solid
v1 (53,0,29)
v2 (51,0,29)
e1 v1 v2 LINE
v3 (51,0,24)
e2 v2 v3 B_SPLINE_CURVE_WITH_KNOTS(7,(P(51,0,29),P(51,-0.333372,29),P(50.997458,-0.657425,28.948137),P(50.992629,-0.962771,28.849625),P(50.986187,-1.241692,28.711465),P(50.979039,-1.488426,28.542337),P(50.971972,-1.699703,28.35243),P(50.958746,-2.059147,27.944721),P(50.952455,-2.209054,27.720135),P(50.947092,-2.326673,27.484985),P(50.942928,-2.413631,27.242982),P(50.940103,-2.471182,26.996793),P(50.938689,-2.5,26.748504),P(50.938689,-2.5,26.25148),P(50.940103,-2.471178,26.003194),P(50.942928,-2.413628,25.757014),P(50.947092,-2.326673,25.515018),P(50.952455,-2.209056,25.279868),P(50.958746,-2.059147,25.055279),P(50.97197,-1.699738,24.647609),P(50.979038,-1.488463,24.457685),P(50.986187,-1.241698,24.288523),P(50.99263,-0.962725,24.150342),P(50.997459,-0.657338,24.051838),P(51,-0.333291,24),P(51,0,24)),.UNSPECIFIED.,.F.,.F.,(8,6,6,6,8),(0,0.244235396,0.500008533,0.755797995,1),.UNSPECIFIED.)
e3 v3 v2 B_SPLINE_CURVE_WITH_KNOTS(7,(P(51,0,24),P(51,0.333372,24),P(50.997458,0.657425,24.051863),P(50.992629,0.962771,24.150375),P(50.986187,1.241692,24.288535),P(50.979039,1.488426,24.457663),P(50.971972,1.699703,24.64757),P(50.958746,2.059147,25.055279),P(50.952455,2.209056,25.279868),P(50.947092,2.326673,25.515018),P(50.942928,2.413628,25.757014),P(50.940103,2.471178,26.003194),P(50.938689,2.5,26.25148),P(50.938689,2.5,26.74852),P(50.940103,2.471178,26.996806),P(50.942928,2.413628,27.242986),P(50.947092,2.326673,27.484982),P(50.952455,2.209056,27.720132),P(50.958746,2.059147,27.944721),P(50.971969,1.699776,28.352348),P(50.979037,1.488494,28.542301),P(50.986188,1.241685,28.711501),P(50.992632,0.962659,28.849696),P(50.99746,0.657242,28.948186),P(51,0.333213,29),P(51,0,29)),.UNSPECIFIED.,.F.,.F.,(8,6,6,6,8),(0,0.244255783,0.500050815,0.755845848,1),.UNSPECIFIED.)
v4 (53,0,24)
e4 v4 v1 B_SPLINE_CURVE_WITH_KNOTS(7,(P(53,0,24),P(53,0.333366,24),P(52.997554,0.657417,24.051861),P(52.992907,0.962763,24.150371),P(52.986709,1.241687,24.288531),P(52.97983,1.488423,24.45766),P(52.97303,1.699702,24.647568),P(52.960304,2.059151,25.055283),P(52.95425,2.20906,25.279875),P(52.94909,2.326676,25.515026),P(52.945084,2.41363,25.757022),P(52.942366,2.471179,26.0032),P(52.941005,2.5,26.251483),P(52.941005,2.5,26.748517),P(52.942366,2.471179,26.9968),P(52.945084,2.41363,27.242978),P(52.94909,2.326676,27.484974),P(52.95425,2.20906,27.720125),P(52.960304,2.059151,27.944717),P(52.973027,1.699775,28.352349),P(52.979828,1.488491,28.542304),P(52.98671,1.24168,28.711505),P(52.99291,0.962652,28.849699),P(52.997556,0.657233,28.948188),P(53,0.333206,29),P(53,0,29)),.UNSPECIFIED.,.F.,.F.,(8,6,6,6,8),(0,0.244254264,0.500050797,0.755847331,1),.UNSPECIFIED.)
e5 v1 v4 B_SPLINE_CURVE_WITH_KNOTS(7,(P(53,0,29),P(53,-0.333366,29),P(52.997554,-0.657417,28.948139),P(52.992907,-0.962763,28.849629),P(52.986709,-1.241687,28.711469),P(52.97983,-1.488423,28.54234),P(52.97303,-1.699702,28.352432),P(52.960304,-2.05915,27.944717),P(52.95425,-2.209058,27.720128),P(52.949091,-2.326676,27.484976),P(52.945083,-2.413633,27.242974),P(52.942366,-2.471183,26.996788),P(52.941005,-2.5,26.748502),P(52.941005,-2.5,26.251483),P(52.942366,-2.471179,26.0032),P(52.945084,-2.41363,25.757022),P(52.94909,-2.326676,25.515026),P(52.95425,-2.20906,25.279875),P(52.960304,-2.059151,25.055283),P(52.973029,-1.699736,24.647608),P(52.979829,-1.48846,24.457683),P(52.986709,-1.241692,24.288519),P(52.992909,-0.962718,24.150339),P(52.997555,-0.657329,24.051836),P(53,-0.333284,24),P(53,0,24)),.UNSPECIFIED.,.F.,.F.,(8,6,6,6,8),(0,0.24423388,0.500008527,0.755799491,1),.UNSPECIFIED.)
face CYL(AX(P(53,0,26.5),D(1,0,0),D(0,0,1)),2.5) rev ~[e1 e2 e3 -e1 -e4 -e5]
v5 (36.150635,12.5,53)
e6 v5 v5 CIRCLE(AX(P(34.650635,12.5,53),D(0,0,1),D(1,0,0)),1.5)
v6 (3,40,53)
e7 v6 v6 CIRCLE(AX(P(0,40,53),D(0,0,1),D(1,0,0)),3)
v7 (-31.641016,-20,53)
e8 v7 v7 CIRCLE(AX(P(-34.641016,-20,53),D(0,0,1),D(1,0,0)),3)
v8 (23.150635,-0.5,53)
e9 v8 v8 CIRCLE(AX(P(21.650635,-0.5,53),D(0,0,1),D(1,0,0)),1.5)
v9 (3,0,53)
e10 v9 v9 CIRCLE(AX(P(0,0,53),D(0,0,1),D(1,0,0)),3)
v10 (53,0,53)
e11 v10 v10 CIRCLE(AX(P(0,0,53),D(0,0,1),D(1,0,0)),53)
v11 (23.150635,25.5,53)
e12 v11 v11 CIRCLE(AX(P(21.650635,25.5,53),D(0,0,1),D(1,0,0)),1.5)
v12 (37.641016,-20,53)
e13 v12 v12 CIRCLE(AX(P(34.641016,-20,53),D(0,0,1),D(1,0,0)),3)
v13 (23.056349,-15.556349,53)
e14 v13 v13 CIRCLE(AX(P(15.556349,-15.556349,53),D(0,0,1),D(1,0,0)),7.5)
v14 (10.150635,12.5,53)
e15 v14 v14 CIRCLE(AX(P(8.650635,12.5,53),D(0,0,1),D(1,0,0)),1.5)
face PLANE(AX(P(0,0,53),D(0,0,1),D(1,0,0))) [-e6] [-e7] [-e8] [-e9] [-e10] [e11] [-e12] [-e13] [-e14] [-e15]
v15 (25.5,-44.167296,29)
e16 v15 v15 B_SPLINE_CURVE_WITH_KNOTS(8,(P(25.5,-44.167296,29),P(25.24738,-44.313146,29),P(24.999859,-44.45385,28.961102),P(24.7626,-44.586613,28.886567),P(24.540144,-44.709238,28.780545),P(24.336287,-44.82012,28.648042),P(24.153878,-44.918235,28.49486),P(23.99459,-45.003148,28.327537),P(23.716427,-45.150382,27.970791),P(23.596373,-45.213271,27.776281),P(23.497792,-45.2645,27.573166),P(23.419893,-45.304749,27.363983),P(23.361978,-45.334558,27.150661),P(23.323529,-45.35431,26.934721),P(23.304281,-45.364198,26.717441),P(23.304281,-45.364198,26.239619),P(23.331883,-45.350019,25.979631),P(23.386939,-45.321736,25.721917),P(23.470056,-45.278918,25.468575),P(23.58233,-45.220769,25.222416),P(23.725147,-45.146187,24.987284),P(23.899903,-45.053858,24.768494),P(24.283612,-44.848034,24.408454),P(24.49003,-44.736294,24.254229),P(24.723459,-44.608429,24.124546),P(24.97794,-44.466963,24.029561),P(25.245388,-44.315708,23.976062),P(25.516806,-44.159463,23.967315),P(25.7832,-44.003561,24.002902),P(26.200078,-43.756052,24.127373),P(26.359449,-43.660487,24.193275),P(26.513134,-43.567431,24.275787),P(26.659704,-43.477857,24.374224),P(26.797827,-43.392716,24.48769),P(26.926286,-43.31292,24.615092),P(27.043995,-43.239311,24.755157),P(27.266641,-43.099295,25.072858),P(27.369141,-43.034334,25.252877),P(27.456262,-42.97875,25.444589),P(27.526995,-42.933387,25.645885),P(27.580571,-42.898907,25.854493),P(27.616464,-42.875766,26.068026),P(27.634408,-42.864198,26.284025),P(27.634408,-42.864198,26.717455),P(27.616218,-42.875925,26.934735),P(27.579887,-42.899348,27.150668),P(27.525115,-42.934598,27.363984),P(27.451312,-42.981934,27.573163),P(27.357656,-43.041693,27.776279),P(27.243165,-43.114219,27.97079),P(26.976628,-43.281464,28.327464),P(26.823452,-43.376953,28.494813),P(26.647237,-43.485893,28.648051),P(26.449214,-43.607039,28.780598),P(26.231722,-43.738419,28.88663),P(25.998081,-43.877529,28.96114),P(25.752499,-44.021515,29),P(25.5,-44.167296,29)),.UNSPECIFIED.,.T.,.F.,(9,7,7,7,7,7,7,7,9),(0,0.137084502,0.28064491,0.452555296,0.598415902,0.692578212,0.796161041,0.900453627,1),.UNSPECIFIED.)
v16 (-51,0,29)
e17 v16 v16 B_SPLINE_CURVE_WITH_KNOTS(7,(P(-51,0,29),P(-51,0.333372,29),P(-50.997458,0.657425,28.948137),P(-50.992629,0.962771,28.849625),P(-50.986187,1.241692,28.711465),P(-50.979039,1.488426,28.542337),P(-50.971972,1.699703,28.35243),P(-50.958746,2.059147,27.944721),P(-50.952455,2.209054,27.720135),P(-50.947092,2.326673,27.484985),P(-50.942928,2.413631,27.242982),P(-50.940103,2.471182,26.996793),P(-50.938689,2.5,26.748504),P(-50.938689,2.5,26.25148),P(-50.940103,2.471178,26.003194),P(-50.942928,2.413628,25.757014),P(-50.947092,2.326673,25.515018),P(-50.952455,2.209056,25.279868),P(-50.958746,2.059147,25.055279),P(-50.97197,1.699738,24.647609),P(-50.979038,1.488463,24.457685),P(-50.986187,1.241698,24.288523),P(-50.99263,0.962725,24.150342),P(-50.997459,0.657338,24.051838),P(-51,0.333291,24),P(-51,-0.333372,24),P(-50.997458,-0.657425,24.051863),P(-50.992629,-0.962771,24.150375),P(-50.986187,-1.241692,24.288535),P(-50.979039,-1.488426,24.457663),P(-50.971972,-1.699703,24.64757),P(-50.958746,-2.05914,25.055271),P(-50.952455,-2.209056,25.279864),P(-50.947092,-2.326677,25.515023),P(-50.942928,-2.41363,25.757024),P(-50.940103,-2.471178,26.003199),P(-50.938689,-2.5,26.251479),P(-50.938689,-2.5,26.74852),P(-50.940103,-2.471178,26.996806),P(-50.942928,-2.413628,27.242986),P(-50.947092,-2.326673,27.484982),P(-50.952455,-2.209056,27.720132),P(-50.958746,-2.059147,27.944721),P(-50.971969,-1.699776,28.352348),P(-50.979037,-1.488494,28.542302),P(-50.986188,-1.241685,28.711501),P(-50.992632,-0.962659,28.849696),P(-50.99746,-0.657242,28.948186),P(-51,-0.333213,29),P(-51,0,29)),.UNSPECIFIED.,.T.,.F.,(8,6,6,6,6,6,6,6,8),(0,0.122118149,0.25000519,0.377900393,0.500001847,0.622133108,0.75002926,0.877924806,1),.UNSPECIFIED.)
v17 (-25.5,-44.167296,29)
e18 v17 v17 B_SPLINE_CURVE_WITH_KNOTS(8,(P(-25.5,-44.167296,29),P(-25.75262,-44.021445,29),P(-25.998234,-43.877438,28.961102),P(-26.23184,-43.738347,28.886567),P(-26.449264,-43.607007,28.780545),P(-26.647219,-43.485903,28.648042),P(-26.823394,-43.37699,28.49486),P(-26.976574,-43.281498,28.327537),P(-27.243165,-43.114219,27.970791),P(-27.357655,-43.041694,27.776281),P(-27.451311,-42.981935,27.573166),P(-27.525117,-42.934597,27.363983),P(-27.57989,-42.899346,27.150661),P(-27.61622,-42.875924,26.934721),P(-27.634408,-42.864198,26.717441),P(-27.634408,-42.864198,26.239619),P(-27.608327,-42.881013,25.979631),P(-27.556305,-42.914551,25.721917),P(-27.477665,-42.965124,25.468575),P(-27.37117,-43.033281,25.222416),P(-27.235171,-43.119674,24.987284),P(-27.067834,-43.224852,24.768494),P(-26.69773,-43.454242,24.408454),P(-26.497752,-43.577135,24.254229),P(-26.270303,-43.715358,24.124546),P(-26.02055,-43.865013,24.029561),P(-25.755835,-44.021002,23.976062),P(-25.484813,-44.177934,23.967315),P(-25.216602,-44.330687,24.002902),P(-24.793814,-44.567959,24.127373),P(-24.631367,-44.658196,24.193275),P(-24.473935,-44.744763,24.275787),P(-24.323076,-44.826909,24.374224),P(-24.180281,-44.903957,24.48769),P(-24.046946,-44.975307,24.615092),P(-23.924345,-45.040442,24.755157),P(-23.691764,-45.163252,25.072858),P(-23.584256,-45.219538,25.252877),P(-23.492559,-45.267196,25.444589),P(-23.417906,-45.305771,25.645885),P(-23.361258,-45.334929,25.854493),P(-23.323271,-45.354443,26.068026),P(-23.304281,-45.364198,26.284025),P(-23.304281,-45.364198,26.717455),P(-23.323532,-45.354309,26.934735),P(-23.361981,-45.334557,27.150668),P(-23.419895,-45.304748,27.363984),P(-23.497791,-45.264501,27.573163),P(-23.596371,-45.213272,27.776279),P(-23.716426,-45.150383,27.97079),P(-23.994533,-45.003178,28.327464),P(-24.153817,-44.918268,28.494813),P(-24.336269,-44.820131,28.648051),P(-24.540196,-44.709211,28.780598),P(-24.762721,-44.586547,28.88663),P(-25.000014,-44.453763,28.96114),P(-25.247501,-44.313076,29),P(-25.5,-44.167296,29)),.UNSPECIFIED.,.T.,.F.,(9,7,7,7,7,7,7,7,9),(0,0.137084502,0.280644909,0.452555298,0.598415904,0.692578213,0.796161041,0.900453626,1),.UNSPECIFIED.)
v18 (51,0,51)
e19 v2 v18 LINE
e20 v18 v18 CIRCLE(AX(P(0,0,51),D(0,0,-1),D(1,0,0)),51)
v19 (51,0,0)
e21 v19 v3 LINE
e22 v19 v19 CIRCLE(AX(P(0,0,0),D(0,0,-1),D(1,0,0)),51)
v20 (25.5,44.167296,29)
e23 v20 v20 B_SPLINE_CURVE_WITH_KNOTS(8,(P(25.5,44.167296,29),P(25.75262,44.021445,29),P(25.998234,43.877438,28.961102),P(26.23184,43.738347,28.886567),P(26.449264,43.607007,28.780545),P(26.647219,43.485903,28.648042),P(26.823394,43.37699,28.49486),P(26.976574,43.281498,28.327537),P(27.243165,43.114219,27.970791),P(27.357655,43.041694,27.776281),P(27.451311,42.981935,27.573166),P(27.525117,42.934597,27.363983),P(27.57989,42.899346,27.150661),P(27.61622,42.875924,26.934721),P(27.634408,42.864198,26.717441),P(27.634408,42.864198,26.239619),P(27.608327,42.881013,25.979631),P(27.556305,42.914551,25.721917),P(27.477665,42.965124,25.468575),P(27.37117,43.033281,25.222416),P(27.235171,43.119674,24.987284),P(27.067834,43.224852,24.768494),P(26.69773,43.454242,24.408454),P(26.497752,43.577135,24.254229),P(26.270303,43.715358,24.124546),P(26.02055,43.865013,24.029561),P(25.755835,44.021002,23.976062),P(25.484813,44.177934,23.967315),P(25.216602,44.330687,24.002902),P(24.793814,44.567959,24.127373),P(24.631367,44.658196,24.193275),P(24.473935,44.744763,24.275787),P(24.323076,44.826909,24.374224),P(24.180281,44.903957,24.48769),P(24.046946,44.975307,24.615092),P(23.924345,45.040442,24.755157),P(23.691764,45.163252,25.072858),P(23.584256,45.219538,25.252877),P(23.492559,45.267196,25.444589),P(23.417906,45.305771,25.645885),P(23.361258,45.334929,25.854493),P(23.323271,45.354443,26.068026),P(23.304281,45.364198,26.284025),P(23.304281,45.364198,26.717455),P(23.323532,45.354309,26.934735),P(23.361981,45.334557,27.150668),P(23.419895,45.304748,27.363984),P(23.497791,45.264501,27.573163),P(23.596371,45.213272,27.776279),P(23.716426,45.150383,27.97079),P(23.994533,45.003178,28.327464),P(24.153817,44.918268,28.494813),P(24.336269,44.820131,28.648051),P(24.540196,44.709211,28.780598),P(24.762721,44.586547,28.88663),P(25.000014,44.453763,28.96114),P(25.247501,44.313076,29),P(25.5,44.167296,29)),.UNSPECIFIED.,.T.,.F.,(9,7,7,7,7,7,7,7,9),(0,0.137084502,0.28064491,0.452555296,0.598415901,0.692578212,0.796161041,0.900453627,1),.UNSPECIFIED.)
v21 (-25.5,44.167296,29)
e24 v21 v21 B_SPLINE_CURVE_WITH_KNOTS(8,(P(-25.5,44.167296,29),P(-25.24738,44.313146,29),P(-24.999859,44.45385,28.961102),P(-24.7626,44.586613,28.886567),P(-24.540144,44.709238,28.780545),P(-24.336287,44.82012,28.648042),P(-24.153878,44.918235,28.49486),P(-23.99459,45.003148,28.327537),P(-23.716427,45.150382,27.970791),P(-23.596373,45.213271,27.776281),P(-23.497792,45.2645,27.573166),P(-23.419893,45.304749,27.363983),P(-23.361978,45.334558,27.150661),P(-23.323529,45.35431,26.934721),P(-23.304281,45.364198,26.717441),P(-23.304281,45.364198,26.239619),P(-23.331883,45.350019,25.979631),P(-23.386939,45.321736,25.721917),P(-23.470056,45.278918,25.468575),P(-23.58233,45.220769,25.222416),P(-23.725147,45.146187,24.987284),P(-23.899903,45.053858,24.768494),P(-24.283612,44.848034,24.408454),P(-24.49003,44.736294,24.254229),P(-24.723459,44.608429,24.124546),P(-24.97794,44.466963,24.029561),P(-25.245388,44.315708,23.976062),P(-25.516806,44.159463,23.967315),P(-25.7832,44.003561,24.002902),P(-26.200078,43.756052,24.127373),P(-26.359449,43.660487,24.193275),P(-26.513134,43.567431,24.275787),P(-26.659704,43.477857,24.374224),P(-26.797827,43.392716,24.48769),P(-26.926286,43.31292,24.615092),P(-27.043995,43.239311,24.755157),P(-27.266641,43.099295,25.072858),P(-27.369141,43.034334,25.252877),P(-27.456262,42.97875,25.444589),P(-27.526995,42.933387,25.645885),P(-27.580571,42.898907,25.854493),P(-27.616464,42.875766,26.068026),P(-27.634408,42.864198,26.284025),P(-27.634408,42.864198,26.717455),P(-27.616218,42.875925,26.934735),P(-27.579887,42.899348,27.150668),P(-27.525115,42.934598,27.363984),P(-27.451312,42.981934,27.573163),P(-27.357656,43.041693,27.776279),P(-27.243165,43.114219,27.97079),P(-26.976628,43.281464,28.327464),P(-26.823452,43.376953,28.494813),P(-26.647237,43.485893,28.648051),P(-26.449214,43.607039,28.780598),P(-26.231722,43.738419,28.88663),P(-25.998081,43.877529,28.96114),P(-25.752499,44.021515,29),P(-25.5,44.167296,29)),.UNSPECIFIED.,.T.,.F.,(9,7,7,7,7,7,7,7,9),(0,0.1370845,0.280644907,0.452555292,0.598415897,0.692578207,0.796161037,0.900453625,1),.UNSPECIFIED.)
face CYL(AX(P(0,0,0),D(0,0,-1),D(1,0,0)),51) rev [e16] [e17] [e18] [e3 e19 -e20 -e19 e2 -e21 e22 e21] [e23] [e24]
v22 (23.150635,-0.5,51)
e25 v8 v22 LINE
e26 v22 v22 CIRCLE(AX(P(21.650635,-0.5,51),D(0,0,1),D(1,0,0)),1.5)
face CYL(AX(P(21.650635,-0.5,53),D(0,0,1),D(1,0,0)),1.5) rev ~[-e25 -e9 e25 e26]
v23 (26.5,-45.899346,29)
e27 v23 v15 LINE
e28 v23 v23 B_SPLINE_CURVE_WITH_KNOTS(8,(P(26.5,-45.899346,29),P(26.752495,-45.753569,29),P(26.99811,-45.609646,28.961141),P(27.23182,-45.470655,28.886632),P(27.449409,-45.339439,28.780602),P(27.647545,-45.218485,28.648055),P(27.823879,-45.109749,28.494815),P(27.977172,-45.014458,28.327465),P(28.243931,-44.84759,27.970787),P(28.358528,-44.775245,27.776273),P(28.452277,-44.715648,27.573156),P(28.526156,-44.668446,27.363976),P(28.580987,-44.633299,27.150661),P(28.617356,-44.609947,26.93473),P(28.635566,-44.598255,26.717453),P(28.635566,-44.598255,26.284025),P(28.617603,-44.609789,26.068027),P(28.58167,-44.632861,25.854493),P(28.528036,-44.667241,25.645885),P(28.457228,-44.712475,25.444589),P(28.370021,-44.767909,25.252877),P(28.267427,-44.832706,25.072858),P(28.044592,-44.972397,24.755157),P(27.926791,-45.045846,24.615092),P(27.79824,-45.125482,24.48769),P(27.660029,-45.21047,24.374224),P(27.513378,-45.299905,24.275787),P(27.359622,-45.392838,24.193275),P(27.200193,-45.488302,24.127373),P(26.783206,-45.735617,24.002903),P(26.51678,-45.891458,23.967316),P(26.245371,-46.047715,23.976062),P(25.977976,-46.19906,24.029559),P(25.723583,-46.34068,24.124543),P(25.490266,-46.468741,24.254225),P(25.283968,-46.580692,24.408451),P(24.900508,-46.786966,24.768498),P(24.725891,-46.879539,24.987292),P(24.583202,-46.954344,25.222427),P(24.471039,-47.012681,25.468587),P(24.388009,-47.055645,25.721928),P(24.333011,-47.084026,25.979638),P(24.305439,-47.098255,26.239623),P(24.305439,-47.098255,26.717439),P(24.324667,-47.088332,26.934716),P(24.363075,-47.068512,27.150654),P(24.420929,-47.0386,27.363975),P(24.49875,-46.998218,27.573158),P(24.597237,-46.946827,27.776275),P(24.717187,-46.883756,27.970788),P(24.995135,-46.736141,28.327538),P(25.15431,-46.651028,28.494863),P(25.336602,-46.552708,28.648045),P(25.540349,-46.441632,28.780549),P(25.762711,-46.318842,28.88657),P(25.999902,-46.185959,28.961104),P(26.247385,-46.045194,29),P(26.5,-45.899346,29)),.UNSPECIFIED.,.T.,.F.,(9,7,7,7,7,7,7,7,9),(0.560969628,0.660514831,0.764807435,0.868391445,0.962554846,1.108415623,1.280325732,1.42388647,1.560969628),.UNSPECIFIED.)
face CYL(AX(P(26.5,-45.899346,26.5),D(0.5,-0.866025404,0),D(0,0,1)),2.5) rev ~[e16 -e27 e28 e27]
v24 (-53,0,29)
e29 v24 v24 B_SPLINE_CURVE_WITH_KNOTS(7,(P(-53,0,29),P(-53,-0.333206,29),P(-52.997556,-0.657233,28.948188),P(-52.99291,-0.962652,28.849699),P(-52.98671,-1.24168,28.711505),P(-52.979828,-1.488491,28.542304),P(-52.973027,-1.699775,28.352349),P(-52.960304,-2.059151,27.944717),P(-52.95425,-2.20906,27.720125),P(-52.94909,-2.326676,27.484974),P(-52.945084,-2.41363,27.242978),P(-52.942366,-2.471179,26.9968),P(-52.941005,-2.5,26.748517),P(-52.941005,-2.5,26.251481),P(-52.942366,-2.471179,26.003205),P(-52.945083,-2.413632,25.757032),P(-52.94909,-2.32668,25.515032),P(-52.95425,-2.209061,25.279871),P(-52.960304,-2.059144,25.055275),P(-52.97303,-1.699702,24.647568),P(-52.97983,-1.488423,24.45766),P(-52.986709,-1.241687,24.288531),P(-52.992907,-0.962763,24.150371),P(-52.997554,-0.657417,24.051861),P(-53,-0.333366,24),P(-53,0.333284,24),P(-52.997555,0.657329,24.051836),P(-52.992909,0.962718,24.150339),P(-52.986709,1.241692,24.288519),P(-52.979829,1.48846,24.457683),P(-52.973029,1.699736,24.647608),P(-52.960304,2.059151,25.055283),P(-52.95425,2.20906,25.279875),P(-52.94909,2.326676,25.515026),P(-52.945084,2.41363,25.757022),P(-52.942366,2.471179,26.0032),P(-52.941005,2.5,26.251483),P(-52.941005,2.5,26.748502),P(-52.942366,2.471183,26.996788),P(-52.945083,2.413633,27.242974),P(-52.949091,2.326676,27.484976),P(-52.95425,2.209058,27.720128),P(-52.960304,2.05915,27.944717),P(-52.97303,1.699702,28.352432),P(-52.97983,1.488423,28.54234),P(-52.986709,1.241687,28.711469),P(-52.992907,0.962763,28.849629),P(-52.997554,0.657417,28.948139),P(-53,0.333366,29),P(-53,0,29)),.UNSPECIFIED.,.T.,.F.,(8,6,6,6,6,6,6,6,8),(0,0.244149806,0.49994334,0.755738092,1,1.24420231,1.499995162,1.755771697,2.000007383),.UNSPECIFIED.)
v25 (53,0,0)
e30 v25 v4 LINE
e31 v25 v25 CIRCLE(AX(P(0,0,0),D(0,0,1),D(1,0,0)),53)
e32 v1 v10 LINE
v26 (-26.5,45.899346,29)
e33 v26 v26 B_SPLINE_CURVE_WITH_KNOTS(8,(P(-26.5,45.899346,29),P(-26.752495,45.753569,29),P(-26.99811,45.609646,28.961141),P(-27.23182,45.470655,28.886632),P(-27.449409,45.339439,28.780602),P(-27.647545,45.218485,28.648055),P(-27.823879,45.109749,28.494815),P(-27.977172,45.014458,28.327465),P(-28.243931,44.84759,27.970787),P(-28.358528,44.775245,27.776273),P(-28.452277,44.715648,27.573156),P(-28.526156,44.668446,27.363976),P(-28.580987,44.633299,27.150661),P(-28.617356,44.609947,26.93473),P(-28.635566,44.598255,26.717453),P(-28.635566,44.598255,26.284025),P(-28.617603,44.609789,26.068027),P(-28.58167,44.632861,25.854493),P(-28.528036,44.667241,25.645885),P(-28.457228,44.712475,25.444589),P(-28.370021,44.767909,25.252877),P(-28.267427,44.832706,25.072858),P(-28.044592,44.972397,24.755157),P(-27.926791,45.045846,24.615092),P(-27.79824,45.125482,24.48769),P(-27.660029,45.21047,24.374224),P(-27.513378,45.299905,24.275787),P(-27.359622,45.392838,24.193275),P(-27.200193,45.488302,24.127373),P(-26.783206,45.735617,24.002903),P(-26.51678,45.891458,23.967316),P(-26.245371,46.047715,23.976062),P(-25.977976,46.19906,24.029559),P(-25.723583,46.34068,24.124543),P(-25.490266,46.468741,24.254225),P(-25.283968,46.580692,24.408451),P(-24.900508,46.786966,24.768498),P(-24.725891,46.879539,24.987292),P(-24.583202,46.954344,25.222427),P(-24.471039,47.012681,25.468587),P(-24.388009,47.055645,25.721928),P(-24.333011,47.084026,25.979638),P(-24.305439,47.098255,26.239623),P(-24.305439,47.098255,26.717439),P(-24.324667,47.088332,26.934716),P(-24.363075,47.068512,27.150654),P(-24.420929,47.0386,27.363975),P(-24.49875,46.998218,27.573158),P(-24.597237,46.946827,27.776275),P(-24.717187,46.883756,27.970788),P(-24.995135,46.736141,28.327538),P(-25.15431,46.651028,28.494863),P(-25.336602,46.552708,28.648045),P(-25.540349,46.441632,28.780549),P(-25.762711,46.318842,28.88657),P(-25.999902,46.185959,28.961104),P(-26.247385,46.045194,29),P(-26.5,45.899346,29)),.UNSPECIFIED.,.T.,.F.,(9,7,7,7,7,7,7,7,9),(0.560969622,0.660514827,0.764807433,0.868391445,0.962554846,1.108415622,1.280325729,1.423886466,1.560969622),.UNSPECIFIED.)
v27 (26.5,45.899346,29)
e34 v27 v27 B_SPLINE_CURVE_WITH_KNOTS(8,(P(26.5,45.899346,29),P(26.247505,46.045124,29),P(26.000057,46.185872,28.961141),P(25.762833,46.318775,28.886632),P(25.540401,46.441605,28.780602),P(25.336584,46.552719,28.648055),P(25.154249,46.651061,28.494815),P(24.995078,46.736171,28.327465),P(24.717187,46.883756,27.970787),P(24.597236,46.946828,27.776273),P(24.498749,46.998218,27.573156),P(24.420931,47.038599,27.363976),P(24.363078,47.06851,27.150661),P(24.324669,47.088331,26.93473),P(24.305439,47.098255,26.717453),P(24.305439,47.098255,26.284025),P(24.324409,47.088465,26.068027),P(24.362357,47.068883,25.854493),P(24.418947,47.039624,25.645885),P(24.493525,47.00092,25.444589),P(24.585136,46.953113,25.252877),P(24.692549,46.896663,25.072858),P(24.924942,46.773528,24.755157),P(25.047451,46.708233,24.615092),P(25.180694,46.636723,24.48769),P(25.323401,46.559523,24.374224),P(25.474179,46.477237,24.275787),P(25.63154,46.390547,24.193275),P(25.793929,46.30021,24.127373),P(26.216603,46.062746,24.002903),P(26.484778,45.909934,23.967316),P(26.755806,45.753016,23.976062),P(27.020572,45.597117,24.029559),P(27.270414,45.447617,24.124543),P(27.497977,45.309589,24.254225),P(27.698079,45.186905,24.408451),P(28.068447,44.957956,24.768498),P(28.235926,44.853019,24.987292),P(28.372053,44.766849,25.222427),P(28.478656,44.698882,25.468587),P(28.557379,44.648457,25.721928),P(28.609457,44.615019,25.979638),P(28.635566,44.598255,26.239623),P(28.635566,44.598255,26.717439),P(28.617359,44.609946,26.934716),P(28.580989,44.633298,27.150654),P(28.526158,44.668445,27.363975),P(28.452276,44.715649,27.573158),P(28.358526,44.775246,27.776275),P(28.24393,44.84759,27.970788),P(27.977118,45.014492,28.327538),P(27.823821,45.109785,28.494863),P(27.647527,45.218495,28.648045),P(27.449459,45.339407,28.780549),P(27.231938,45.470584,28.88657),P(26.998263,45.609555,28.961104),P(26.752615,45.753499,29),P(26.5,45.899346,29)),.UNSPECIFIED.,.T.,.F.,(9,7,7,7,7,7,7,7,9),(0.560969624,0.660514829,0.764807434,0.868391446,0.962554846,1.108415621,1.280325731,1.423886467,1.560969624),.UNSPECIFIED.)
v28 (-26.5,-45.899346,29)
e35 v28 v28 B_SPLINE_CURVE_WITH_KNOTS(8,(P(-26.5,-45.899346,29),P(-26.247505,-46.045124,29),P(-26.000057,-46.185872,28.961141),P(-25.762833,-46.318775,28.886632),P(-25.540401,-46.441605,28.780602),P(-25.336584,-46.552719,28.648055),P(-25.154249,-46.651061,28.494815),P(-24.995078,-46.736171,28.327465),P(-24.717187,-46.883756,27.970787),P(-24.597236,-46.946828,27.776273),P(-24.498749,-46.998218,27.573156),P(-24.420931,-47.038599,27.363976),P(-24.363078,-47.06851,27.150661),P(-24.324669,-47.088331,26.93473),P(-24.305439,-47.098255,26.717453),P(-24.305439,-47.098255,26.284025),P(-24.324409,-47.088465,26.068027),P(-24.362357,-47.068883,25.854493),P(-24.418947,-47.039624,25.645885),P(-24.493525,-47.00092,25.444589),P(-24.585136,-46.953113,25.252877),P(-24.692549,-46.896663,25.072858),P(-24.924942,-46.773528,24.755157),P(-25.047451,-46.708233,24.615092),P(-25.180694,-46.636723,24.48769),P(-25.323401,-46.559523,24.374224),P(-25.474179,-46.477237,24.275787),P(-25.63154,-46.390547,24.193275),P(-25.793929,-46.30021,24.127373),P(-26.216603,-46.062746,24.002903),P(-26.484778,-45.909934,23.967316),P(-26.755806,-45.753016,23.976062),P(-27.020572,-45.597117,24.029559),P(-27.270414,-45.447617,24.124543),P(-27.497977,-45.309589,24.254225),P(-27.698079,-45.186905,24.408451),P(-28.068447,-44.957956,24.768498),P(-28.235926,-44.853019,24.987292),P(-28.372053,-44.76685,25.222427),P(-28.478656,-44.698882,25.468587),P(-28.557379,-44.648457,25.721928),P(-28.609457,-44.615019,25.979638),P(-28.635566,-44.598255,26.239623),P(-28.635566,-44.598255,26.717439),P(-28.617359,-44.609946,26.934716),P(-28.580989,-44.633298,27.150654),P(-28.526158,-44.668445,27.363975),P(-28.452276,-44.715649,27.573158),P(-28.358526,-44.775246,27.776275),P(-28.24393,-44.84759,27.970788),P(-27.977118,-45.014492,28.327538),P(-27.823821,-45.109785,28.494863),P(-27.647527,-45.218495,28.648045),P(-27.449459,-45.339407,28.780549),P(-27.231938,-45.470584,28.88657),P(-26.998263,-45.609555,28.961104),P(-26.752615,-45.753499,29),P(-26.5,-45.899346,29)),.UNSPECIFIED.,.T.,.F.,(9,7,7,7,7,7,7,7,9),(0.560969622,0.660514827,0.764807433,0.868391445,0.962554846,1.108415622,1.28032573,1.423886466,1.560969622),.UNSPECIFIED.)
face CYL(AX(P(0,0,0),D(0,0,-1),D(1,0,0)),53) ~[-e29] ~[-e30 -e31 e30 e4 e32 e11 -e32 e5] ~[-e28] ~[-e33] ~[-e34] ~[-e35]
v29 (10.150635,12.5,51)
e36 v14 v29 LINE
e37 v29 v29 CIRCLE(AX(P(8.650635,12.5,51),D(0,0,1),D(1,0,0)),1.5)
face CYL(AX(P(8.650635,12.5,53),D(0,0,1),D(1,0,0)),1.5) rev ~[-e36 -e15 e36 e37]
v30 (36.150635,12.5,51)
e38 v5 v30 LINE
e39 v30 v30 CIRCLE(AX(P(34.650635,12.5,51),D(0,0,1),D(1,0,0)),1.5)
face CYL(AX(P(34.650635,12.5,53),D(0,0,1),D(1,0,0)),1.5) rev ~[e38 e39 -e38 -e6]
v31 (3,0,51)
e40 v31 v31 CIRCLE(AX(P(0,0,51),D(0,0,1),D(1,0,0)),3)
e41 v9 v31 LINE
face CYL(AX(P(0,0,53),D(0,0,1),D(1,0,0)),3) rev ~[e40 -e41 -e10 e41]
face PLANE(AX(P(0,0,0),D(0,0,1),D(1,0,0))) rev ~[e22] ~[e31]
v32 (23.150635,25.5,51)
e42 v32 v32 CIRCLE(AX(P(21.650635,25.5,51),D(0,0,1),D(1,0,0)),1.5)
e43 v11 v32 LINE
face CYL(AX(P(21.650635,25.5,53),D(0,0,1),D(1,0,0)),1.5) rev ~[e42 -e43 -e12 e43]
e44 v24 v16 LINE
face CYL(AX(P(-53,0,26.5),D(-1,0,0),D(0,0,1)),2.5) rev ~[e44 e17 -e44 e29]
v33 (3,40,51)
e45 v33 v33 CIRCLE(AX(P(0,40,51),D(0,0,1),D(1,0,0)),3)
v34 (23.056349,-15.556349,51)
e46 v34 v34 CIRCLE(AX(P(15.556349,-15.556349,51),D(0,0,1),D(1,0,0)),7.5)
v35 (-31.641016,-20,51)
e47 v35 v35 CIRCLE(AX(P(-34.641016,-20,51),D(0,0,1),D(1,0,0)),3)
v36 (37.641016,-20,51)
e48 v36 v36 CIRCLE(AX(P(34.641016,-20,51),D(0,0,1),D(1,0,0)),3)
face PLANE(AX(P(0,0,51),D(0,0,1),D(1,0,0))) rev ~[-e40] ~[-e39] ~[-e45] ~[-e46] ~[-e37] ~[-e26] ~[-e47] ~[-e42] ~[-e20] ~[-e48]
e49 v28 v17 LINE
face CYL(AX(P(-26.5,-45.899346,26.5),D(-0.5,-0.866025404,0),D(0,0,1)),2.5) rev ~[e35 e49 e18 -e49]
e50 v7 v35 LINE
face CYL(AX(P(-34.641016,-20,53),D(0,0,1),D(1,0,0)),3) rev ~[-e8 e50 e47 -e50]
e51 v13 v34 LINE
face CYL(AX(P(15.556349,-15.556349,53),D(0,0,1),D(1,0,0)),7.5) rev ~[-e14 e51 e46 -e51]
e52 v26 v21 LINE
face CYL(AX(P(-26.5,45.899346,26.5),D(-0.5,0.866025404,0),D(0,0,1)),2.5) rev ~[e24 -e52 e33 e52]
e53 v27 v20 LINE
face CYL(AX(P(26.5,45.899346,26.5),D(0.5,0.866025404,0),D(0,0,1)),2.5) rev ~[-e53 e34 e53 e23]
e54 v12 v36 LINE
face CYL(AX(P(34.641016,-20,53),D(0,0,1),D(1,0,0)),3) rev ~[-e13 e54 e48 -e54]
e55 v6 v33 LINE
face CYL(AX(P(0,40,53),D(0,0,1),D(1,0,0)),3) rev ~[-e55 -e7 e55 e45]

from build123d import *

# Parameters (mm, degrees)
SKETCH1_R           = 53
BOSS_EXTRUDE1_DEPTH = 53
SKETCH2_R           = 3
CUT_EXTRUDE1_DEPTH  = 92.798692801
SHELL4_T            = -2
SKETCH6_R           = 1.5
CUT_EXTRUDE3_DEPTH  = 10
SKETCH7_R           = 7.5
CUT_EXTRUDE4_DEPTH  = 10
SKETCH8_R           = 51
CUT_EXTRUDE5_DEPTH  = 51
SKETCH9_R           = 2.5
CUT_EXTRUDE6_DEPTH  = 51
CIRPATTERN1_COUNT   = 6


with BuildPart() as part:
    # Sketch1 → Boss-Extrude1 (new body)
    with BuildSketch(Plane.XY):
        Circle(SKETCH1_R)
    extrude(amount=BOSS_EXTRUDE1_DEPTH)

    # Sketch2 → Cut-Extrude1 (cut, through all)
    with BuildSketch(Plane.XY.offset(53)):
        with Locations((0, 40)):
            Circle(SKETCH2_R)
        with Locations((34.641016151, -20)):
            Circle(SKETCH2_R)
        with Locations((-34.641016151, -20)):
            Circle(SKETCH2_R)
        Circle(SKETCH2_R)
    extrude(amount=-CUT_EXTRUDE1_DEPTH, mode=Mode.SUBTRACT)

    # Shell4
    shell4_openings = [part.faces().sort_by_distance(p)[0] for p in [
        (-51.500933624, 0, 0),
    ]]
    offset(amount=SHELL4_T, openings=shell4_openings, kind=Kind.INTERSECTION)

    # Sketch6 → Cut-Extrude3 (cut)
    with BuildSketch(Plane.XY.offset(53)):
        with Locations((21.650635095, 25.5)):
            Circle(SKETCH6_R)
        with Locations((34.650635095, 12.5)):
            Circle(SKETCH6_R)
        with Locations((21.650635095, -0.5)):
            Circle(SKETCH6_R)
        with Locations((8.650635095, 12.5)):
            Circle(SKETCH6_R)
    extrude(amount=-CUT_EXTRUDE3_DEPTH, mode=Mode.SUBTRACT)

    # Sketch7 → Cut-Extrude4 (cut)
    with BuildSketch(Plane.XY.offset(53)):
        with Locations((15.556349186, -15.556349186)):
            Circle(SKETCH7_R)
    extrude(amount=-CUT_EXTRUDE4_DEPTH, mode=Mode.SUBTRACT)

    # Sketch8 → Cut-Extrude5 (cut)
    with BuildSketch(Plane(origin=(0, 0, 0), x_dir=(-1, 0, 0), z_dir=(0, 0, -1))):
        with Locations(Location((0, 0, 0), (0, 0, 180))):
            Circle(SKETCH8_R)
    extrude(amount=-CUT_EXTRUDE5_DEPTH, mode=Mode.SUBTRACT)

    # Sketch9 → Cut-Extrude6 (cut)
    with BuildSketch(Plane.ZY.offset(53)):
        with Locations((26.5, 0)):
            Circle(SKETCH9_R)
    cut_extrude6 = extrude(amount=-CUT_EXTRUDE6_DEPTH, mode=Mode.SUBTRACT)

    # CirPattern1: Cut-Extrude6 ×6 about axis
    cirpattern1_axis = Axis((0, 0, 0), (0, 0, 1))
    for i in range(1, CIRPATTERN1_COUNT):
        add(cut_extrude6.rotate(cirpattern1_axis, i * 360 / CIRPATTERN1_COUNT), mode=Mode.SUBTRACT)


solid = part.part
